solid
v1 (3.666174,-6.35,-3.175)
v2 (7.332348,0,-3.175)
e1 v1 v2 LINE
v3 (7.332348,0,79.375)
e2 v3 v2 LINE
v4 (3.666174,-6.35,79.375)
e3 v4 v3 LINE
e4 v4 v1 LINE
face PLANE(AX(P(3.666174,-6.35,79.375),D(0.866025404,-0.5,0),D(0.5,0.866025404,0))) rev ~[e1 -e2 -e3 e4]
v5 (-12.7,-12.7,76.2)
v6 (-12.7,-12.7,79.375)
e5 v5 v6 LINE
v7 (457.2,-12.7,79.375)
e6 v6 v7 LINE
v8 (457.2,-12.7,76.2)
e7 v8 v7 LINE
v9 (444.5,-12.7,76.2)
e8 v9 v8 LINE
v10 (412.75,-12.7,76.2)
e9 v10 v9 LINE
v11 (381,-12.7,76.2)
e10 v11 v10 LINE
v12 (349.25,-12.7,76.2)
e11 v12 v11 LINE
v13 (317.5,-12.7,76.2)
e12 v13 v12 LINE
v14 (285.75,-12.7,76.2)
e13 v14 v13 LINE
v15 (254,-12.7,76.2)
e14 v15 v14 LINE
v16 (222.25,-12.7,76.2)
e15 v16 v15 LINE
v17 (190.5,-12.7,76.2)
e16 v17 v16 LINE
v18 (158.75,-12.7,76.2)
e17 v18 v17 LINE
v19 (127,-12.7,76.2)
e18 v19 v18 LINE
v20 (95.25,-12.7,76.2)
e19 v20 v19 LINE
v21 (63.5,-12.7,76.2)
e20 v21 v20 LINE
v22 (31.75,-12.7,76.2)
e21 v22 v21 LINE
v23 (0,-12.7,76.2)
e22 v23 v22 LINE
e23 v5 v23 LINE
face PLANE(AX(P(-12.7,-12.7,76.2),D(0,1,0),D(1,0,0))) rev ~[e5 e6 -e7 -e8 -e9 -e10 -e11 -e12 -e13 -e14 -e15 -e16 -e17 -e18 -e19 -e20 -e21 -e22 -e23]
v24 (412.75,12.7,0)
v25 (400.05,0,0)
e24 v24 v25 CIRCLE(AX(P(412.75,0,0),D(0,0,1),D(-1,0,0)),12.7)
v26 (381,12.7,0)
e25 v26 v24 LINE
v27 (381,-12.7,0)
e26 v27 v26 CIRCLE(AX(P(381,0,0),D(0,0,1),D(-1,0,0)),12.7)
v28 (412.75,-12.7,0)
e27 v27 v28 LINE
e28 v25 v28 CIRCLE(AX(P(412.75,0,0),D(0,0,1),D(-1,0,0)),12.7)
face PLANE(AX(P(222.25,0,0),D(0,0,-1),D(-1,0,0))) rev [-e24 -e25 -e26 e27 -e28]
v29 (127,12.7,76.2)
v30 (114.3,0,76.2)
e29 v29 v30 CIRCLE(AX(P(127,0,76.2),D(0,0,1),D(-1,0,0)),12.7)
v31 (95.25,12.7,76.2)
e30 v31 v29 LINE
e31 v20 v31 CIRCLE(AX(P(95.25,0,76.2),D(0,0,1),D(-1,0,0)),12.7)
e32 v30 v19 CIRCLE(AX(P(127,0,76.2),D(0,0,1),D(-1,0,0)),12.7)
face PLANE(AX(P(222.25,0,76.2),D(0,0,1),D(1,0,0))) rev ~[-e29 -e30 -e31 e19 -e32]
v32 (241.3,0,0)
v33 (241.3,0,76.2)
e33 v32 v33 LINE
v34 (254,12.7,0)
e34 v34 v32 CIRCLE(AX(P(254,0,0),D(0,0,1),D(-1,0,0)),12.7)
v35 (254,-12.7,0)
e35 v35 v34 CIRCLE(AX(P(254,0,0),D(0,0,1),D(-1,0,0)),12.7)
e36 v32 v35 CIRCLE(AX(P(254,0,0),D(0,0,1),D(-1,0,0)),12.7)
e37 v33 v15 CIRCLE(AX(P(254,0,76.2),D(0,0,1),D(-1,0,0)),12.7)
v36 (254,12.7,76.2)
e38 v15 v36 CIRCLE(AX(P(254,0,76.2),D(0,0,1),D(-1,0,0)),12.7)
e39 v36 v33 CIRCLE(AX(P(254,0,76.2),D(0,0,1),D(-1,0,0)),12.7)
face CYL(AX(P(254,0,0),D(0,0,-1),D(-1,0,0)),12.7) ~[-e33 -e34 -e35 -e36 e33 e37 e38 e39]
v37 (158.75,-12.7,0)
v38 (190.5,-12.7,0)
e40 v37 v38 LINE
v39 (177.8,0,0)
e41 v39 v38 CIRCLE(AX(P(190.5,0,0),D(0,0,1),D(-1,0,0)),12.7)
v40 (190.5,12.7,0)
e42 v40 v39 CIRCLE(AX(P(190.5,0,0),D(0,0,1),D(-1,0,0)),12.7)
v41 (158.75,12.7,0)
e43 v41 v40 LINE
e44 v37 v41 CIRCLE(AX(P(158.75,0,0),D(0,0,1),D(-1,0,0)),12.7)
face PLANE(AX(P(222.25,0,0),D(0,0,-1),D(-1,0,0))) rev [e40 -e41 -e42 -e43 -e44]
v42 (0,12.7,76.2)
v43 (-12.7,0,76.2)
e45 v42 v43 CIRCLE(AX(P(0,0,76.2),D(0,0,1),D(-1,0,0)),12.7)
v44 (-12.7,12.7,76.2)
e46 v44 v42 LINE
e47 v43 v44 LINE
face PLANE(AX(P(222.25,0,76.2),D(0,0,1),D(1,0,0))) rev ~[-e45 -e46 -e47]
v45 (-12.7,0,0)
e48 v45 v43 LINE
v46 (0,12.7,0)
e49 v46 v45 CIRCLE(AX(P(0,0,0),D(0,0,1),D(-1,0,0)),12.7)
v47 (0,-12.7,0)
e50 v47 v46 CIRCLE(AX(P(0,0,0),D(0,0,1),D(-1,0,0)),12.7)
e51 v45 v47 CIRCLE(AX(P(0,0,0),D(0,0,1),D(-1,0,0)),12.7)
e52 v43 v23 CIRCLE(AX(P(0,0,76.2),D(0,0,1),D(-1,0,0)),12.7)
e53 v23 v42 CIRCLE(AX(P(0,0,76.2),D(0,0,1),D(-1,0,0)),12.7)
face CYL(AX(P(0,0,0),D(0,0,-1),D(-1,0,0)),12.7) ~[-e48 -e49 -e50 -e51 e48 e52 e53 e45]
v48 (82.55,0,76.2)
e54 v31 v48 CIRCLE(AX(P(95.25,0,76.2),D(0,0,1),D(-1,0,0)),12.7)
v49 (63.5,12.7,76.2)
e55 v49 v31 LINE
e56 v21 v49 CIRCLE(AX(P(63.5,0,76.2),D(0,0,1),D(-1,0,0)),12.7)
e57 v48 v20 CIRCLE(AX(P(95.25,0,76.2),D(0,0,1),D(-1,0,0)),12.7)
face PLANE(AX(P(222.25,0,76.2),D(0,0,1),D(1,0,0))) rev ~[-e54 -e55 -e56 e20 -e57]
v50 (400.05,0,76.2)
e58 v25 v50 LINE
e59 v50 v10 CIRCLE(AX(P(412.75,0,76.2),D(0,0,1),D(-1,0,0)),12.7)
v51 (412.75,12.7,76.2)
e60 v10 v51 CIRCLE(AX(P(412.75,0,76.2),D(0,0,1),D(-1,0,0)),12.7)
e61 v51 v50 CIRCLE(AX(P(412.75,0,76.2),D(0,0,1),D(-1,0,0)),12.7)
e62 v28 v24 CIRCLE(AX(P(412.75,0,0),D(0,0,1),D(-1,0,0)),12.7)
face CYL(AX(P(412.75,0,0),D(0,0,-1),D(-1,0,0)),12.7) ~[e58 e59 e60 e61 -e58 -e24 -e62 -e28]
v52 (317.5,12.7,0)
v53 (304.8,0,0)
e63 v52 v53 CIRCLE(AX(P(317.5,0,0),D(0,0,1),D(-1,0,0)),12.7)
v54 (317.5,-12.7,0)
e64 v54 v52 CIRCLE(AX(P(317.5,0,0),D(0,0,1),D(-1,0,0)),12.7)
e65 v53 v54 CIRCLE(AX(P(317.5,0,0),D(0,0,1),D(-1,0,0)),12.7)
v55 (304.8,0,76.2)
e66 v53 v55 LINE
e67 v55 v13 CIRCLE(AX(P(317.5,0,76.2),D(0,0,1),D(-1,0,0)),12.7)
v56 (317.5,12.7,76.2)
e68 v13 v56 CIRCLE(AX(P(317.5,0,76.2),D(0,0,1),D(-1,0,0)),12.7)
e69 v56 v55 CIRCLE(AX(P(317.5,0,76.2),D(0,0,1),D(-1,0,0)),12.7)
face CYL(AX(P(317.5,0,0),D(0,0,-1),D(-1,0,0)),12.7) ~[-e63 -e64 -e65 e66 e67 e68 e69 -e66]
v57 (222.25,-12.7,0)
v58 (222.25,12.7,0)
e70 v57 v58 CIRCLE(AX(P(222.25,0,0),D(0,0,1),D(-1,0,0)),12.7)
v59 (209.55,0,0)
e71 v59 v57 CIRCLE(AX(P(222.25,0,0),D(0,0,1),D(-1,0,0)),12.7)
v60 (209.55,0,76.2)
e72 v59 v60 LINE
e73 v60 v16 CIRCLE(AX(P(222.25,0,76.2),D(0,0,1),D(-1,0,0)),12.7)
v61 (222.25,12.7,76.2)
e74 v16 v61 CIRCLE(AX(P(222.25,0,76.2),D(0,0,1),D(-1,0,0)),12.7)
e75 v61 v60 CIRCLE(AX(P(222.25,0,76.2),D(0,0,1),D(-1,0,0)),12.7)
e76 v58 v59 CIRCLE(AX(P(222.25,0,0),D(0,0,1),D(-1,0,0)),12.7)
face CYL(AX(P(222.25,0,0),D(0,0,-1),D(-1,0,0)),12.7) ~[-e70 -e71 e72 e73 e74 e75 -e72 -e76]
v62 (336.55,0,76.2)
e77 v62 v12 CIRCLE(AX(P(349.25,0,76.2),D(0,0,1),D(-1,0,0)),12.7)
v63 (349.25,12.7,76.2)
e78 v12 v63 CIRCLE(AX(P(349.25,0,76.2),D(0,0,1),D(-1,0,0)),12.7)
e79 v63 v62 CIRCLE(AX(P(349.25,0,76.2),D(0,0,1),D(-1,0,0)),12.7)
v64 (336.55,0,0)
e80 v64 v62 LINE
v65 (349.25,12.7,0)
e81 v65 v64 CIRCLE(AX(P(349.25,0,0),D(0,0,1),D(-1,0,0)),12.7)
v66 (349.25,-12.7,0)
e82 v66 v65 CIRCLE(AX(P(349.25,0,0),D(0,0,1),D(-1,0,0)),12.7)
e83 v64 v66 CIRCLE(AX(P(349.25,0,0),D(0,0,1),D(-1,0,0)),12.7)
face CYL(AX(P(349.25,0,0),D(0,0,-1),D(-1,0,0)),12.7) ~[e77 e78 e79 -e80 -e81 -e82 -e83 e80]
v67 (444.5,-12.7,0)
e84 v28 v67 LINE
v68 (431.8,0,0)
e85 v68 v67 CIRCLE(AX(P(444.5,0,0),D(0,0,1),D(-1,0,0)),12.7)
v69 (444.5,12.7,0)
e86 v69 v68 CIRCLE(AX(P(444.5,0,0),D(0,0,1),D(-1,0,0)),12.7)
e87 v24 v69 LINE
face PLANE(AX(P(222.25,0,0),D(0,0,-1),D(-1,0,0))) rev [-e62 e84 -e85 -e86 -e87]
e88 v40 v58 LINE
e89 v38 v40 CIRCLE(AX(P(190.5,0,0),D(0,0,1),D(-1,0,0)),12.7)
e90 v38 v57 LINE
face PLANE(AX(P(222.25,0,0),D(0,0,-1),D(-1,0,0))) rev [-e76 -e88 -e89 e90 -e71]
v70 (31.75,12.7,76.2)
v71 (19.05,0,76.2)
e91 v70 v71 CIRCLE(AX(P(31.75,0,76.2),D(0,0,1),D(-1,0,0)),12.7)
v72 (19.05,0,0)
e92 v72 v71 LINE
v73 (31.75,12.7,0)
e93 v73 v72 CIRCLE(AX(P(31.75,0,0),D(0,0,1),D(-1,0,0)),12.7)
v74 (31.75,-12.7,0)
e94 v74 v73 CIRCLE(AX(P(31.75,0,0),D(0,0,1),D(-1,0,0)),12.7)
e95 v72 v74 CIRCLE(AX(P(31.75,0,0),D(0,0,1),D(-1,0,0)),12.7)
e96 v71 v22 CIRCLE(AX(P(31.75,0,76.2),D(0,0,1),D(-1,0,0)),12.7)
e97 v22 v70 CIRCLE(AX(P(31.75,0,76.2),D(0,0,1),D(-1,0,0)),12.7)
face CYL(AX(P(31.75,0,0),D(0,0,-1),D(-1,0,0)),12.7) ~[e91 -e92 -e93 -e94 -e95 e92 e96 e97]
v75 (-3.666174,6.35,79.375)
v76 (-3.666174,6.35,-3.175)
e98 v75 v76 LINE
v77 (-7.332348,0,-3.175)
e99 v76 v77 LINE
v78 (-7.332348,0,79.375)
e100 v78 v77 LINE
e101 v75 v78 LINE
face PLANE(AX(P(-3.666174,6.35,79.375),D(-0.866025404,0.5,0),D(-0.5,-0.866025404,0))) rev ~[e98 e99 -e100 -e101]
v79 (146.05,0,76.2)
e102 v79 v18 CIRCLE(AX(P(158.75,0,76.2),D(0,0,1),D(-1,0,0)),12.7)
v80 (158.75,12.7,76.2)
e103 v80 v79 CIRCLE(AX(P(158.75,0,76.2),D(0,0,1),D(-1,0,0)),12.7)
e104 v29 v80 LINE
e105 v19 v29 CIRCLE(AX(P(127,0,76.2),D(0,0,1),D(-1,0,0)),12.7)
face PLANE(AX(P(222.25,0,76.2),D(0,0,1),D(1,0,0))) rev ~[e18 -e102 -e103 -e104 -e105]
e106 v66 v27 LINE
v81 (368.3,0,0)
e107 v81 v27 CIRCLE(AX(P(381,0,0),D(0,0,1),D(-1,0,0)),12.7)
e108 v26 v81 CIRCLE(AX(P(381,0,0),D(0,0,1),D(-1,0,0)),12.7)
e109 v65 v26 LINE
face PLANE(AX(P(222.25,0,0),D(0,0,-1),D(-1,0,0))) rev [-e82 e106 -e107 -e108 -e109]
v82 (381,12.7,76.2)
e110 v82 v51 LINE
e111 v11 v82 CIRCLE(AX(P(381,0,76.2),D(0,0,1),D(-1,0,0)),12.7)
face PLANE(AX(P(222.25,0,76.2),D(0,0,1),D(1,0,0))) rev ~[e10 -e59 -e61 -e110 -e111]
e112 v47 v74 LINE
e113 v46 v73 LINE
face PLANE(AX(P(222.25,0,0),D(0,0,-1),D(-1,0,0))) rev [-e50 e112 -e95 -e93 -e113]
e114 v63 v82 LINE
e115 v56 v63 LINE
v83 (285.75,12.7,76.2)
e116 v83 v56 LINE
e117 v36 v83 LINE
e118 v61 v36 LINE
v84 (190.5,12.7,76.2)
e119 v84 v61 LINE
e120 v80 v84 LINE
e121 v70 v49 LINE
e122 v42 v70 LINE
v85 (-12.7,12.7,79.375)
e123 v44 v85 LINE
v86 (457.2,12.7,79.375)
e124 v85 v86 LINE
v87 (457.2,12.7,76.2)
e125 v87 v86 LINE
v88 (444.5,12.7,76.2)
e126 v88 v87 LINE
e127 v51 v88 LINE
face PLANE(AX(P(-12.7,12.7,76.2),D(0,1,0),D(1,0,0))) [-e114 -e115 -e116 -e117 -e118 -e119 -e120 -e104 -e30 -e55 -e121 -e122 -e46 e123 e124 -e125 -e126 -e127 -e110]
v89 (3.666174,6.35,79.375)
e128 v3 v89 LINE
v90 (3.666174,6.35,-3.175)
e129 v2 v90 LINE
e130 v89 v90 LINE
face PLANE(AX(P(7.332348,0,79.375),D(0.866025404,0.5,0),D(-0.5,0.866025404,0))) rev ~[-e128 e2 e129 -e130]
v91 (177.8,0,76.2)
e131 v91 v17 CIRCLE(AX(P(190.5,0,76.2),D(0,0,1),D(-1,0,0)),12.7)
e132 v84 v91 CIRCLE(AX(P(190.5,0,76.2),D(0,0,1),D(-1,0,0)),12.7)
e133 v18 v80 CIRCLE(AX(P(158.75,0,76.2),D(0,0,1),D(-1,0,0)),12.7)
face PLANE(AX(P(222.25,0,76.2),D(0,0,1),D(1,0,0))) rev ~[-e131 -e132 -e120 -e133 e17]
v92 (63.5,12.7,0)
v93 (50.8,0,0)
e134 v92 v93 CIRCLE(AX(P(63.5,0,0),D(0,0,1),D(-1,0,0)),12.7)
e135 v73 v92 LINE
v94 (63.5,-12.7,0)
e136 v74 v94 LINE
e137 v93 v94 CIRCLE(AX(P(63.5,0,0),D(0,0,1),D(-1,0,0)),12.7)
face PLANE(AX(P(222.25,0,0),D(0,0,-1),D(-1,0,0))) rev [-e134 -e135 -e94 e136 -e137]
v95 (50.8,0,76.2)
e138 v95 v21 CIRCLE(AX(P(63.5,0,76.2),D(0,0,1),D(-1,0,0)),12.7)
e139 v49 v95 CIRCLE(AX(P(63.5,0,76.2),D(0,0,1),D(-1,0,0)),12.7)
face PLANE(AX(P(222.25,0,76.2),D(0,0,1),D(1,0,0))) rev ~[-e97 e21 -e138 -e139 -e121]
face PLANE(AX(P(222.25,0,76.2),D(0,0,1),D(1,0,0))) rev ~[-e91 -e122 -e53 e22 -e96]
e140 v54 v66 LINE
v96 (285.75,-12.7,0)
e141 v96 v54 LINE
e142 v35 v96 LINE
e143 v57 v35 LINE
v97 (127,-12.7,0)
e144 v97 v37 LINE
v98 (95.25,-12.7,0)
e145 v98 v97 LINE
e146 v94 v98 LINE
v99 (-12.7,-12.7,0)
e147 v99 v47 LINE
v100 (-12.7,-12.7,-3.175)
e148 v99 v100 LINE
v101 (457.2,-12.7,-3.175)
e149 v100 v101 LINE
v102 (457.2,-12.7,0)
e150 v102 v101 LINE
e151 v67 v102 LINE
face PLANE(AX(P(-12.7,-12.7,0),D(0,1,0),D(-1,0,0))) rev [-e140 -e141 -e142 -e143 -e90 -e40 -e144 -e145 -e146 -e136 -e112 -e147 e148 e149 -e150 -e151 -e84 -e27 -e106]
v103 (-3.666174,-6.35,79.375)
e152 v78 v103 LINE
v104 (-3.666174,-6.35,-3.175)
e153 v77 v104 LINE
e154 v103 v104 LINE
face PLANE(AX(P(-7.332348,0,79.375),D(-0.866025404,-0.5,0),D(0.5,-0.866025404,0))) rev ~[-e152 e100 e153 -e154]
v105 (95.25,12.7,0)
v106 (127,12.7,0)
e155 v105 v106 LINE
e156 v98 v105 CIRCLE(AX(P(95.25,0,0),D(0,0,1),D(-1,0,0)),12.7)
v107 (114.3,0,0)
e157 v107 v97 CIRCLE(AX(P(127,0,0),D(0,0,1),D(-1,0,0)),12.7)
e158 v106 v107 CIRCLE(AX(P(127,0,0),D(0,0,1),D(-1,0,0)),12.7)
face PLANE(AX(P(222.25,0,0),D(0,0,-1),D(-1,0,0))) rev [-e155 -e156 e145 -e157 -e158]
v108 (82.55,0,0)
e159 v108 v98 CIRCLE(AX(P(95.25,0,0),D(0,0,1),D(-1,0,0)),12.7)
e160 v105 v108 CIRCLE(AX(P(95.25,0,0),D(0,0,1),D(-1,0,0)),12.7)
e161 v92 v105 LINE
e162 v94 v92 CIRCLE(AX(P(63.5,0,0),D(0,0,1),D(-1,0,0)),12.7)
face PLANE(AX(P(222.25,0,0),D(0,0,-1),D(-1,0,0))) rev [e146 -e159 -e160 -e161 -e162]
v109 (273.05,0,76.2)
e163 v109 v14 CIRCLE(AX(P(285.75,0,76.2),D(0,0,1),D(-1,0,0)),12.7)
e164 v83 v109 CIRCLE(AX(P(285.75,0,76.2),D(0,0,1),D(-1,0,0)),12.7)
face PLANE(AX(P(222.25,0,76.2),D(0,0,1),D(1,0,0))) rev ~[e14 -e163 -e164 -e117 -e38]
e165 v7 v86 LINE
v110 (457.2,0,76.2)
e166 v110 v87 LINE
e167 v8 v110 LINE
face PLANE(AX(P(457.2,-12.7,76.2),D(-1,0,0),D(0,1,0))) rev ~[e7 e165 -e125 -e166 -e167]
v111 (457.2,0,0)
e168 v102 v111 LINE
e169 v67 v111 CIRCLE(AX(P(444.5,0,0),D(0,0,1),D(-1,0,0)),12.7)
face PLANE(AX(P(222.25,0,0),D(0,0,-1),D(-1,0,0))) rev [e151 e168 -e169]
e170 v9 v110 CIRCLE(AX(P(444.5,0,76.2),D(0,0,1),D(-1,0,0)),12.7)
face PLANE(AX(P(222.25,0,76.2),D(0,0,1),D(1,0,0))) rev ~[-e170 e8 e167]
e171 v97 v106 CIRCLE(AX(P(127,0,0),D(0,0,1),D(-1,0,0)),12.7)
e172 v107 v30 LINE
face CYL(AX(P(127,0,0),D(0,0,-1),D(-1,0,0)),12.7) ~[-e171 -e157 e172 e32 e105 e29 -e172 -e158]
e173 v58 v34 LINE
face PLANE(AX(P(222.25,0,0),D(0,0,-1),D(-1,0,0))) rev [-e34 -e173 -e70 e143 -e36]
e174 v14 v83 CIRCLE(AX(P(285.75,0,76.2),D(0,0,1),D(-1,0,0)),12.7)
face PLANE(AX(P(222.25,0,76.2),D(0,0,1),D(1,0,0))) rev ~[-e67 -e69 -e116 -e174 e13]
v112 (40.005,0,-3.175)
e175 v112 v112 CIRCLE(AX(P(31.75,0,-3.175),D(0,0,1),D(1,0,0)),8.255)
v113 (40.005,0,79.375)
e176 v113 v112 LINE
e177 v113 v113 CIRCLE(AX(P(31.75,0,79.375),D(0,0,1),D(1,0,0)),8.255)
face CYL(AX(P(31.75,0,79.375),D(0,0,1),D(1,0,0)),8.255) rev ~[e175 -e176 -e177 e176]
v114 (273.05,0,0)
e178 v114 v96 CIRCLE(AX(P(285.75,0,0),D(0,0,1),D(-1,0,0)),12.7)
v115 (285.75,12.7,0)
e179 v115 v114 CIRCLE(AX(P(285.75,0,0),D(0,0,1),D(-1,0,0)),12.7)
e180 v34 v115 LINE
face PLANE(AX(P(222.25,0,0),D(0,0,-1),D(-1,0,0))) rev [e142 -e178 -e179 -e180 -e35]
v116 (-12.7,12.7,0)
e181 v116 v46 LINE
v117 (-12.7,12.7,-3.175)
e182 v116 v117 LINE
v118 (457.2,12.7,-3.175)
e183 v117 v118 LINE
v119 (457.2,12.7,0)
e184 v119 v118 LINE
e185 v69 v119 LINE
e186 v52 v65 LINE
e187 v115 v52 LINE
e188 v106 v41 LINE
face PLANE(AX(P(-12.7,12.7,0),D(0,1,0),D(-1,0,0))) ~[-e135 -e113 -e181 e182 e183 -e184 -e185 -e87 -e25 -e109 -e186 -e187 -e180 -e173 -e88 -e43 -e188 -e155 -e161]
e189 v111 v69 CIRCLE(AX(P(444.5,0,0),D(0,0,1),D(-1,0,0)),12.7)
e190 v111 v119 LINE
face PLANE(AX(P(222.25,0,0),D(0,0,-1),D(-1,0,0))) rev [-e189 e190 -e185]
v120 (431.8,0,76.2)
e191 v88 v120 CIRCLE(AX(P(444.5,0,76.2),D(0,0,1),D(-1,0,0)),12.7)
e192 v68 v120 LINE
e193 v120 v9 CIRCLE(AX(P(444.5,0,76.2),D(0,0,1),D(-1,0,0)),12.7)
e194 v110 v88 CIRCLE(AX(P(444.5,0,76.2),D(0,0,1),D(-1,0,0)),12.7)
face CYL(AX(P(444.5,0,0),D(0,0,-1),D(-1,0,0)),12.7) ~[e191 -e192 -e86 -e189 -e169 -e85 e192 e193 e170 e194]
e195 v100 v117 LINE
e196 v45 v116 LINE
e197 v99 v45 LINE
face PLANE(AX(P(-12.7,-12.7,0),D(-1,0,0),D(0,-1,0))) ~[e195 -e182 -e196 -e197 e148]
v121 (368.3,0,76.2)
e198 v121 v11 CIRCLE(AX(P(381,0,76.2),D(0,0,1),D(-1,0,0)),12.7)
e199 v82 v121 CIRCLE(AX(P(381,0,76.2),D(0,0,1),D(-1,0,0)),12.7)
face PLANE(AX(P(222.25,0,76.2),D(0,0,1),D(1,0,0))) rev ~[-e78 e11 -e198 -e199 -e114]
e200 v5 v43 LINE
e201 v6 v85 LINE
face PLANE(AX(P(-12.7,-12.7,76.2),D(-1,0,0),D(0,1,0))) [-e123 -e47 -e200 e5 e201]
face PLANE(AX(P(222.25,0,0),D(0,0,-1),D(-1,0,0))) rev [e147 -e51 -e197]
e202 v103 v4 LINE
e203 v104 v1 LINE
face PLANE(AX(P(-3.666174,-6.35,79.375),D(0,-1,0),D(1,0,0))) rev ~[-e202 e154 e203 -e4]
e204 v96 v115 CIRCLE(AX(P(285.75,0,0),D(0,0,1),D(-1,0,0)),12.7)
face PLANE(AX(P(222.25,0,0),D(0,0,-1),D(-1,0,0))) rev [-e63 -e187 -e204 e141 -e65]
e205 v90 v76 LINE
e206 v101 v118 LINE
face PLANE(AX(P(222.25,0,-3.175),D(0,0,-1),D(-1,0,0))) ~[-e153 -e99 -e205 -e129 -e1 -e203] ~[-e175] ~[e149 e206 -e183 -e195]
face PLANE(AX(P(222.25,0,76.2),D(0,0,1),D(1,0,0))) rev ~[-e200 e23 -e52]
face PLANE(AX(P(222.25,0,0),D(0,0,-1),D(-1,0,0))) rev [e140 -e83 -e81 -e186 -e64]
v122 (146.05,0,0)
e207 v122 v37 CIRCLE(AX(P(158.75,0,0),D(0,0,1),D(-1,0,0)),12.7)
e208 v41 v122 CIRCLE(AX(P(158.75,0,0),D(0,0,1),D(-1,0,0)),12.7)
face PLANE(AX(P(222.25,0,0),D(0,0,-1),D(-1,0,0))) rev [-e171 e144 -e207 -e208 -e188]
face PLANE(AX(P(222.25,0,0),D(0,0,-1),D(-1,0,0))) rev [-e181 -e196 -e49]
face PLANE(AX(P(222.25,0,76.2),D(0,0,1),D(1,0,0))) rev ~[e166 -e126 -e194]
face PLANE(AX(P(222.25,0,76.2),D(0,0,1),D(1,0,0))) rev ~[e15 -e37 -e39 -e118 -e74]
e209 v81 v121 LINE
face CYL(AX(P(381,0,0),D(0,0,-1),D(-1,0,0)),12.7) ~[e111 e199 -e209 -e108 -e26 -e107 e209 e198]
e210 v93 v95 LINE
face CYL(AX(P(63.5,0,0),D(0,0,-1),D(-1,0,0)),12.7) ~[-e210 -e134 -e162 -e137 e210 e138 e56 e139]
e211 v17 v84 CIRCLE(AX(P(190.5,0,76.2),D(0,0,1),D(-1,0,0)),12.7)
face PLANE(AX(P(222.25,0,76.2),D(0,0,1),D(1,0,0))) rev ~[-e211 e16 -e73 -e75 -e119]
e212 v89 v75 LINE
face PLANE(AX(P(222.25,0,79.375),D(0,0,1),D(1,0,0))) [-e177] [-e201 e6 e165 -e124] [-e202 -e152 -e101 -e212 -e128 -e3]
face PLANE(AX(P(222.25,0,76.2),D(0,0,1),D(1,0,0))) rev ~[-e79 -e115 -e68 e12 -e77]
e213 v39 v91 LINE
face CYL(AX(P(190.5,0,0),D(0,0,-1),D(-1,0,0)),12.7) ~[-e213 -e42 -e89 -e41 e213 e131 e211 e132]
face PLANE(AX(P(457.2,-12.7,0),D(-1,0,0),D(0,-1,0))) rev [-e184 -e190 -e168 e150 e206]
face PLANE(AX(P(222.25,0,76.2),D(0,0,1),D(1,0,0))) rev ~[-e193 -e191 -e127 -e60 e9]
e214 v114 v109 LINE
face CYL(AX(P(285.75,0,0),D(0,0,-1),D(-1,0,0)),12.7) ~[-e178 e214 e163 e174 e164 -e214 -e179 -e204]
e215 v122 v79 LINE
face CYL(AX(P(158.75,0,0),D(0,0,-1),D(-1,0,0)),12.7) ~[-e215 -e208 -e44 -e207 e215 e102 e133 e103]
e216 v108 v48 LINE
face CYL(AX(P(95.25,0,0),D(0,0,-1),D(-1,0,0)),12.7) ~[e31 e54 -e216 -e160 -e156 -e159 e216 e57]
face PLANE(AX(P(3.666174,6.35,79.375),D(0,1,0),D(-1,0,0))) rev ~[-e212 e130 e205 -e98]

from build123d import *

# Parameters (mm, degrees)
SKETCH1_R           = 12.7
BOSS_EXTRUDE1_DEPTH = 76.2
LPATTERN1_COUNT     = 15
LPATTERN1_PITCH     = 31.75
SKETCH2_W           = 469.9
SKETCH2_H           = 25.4
BOSS_EXTRUDE2_DEPTH = 3.175
SKETCH3_R           = 8.255
CUT_EXTRUDE1_DEPTH  = 465.766212735


with BuildPart() as part:
    # Sketch1 → Boss-Extrude1 (new body)
    with BuildSketch(Plane.XY):
        with Locations(Location((0, 0, 0), (0, 0, 180))):
            Circle(SKETCH1_R)
    extrude(amount=BOSS_EXTRUDE1_DEPTH)


with BuildPart() as lpattern1_1:
    # LPattern1: pattern copy
    add(part.part.moved(Location(Vector(1, 0, 0) * (1 * LPATTERN1_PITCH))))


with BuildPart() as lpattern1_2:
    # LPattern1: pattern copy
    add(part.part.moved(Location(Vector(1, 0, 0) * (2 * LPATTERN1_PITCH))))


with BuildPart() as lpattern1_3:
    # LPattern1: pattern copy
    add(part.part.moved(Location(Vector(1, 0, 0) * (3 * LPATTERN1_PITCH))))


with BuildPart() as lpattern1_4:
    # LPattern1: pattern copy
    add(part.part.moved(Location(Vector(1, 0, 0) * (4 * LPATTERN1_PITCH))))


with BuildPart() as lpattern1_5:
    # LPattern1: pattern copy
    add(part.part.moved(Location(Vector(1, 0, 0) * (5 * LPATTERN1_PITCH))))


with BuildPart() as lpattern1_6:
    # LPattern1: pattern copy
    add(part.part.moved(Location(Vector(1, 0, 0) * (6 * LPATTERN1_PITCH))))


with BuildPart() as lpattern1_7:
    # LPattern1: pattern copy
    add(part.part.moved(Location(Vector(1, 0, 0) * (7 * LPATTERN1_PITCH))))


with BuildPart() as lpattern1_8:
    # LPattern1: pattern copy
    add(part.part.moved(Location(Vector(1, 0, 0) * (8 * LPATTERN1_PITCH))))


with BuildPart() as lpattern1_9:
    # LPattern1: pattern copy
    add(part.part.moved(Location(Vector(1, 0, 0) * (9 * LPATTERN1_PITCH))))


with BuildPart() as lpattern1_10:
    # LPattern1: pattern copy
    add(part.part.moved(Location(Vector(1, 0, 0) * (10 * LPATTERN1_PITCH))))


with BuildPart() as lpattern1_11:
    # LPattern1: pattern copy
    add(part.part.moved(Location(Vector(1, 0, 0) * (11 * LPATTERN1_PITCH))))


with BuildPart() as lpattern1_12:
    # LPattern1: pattern copy
    add(part.part.moved(Location(Vector(1, 0, 0) * (12 * LPATTERN1_PITCH))))


with BuildPart() as lpattern1_13:
    # LPattern1: pattern copy
    add(part.part.moved(Location(Vector(1, 0, 0) * (13 * LPATTERN1_PITCH))))


with BuildPart() as lpattern1_14:
    # LPattern1: pattern copy
    add(part.part.moved(Location(Vector(1, 0, 0) * (14 * LPATTERN1_PITCH))))


with BuildPart() as part_1:
    add(part.part)

    add(lpattern1_1.part)  # Boss-Extrude2 merges LPattern1_1

    add(lpattern1_2.part)  # Boss-Extrude2 merges LPattern1_2

    add(lpattern1_3.part)  # Boss-Extrude2 merges LPattern1_3

    add(lpattern1_4.part)  # Boss-Extrude2 merges LPattern1_4

    add(lpattern1_5.part)  # Boss-Extrude2 merges LPattern1_5

    add(lpattern1_6.part)  # Boss-Extrude2 merges LPattern1_6

    add(lpattern1_7.part)  # Boss-Extrude2 merges LPattern1_7

    add(lpattern1_8.part)  # Boss-Extrude2 merges LPattern1_8

    add(lpattern1_9.part)  # Boss-Extrude2 merges LPattern1_9

    add(lpattern1_10.part)  # Boss-Extrude2 merges LPattern1_10

    add(lpattern1_11.part)  # Boss-Extrude2 merges LPattern1_11

    add(lpattern1_12.part)  # Boss-Extrude2 merges LPattern1_12

    add(lpattern1_13.part)  # Boss-Extrude2 merges LPattern1_13

    add(lpattern1_14.part)  # Boss-Extrude2 merges LPattern1_14
    # Sketch2 → Boss-Extrude2 (add)
    with BuildSketch(Plane.XY.offset(76.2)):
        with Locations((222.25, 0)):
            Rectangle(SKETCH2_W, SKETCH2_H)
    boss_extrude2 = extrude(amount=BOSS_EXTRUDE2_DEPTH)

    # Mirror1: Boss-Extrude2 across plane
    add(boss_extrude2.mirror(Plane.XY.offset(38.1)))

    # Sketch3 → Cut-Extrude1 (cut, through all)
    with BuildSketch(Plane.XY.offset(79.375)):
        with Locations((31.75, 0)):
            Circle(SKETCH3_R)
        Polygon((7.332348419, 0), (3.666174209, 6.35), (-3.666174209, 6.35), (-7.332348419, 0), (-3.666174209, -6.35), (3.666174209, -6.35), align=None)
    extrude(amount=-CUT_EXTRUDE1_DEPTH, mode=Mode.SUBTRACT)


solid = part_1.part
